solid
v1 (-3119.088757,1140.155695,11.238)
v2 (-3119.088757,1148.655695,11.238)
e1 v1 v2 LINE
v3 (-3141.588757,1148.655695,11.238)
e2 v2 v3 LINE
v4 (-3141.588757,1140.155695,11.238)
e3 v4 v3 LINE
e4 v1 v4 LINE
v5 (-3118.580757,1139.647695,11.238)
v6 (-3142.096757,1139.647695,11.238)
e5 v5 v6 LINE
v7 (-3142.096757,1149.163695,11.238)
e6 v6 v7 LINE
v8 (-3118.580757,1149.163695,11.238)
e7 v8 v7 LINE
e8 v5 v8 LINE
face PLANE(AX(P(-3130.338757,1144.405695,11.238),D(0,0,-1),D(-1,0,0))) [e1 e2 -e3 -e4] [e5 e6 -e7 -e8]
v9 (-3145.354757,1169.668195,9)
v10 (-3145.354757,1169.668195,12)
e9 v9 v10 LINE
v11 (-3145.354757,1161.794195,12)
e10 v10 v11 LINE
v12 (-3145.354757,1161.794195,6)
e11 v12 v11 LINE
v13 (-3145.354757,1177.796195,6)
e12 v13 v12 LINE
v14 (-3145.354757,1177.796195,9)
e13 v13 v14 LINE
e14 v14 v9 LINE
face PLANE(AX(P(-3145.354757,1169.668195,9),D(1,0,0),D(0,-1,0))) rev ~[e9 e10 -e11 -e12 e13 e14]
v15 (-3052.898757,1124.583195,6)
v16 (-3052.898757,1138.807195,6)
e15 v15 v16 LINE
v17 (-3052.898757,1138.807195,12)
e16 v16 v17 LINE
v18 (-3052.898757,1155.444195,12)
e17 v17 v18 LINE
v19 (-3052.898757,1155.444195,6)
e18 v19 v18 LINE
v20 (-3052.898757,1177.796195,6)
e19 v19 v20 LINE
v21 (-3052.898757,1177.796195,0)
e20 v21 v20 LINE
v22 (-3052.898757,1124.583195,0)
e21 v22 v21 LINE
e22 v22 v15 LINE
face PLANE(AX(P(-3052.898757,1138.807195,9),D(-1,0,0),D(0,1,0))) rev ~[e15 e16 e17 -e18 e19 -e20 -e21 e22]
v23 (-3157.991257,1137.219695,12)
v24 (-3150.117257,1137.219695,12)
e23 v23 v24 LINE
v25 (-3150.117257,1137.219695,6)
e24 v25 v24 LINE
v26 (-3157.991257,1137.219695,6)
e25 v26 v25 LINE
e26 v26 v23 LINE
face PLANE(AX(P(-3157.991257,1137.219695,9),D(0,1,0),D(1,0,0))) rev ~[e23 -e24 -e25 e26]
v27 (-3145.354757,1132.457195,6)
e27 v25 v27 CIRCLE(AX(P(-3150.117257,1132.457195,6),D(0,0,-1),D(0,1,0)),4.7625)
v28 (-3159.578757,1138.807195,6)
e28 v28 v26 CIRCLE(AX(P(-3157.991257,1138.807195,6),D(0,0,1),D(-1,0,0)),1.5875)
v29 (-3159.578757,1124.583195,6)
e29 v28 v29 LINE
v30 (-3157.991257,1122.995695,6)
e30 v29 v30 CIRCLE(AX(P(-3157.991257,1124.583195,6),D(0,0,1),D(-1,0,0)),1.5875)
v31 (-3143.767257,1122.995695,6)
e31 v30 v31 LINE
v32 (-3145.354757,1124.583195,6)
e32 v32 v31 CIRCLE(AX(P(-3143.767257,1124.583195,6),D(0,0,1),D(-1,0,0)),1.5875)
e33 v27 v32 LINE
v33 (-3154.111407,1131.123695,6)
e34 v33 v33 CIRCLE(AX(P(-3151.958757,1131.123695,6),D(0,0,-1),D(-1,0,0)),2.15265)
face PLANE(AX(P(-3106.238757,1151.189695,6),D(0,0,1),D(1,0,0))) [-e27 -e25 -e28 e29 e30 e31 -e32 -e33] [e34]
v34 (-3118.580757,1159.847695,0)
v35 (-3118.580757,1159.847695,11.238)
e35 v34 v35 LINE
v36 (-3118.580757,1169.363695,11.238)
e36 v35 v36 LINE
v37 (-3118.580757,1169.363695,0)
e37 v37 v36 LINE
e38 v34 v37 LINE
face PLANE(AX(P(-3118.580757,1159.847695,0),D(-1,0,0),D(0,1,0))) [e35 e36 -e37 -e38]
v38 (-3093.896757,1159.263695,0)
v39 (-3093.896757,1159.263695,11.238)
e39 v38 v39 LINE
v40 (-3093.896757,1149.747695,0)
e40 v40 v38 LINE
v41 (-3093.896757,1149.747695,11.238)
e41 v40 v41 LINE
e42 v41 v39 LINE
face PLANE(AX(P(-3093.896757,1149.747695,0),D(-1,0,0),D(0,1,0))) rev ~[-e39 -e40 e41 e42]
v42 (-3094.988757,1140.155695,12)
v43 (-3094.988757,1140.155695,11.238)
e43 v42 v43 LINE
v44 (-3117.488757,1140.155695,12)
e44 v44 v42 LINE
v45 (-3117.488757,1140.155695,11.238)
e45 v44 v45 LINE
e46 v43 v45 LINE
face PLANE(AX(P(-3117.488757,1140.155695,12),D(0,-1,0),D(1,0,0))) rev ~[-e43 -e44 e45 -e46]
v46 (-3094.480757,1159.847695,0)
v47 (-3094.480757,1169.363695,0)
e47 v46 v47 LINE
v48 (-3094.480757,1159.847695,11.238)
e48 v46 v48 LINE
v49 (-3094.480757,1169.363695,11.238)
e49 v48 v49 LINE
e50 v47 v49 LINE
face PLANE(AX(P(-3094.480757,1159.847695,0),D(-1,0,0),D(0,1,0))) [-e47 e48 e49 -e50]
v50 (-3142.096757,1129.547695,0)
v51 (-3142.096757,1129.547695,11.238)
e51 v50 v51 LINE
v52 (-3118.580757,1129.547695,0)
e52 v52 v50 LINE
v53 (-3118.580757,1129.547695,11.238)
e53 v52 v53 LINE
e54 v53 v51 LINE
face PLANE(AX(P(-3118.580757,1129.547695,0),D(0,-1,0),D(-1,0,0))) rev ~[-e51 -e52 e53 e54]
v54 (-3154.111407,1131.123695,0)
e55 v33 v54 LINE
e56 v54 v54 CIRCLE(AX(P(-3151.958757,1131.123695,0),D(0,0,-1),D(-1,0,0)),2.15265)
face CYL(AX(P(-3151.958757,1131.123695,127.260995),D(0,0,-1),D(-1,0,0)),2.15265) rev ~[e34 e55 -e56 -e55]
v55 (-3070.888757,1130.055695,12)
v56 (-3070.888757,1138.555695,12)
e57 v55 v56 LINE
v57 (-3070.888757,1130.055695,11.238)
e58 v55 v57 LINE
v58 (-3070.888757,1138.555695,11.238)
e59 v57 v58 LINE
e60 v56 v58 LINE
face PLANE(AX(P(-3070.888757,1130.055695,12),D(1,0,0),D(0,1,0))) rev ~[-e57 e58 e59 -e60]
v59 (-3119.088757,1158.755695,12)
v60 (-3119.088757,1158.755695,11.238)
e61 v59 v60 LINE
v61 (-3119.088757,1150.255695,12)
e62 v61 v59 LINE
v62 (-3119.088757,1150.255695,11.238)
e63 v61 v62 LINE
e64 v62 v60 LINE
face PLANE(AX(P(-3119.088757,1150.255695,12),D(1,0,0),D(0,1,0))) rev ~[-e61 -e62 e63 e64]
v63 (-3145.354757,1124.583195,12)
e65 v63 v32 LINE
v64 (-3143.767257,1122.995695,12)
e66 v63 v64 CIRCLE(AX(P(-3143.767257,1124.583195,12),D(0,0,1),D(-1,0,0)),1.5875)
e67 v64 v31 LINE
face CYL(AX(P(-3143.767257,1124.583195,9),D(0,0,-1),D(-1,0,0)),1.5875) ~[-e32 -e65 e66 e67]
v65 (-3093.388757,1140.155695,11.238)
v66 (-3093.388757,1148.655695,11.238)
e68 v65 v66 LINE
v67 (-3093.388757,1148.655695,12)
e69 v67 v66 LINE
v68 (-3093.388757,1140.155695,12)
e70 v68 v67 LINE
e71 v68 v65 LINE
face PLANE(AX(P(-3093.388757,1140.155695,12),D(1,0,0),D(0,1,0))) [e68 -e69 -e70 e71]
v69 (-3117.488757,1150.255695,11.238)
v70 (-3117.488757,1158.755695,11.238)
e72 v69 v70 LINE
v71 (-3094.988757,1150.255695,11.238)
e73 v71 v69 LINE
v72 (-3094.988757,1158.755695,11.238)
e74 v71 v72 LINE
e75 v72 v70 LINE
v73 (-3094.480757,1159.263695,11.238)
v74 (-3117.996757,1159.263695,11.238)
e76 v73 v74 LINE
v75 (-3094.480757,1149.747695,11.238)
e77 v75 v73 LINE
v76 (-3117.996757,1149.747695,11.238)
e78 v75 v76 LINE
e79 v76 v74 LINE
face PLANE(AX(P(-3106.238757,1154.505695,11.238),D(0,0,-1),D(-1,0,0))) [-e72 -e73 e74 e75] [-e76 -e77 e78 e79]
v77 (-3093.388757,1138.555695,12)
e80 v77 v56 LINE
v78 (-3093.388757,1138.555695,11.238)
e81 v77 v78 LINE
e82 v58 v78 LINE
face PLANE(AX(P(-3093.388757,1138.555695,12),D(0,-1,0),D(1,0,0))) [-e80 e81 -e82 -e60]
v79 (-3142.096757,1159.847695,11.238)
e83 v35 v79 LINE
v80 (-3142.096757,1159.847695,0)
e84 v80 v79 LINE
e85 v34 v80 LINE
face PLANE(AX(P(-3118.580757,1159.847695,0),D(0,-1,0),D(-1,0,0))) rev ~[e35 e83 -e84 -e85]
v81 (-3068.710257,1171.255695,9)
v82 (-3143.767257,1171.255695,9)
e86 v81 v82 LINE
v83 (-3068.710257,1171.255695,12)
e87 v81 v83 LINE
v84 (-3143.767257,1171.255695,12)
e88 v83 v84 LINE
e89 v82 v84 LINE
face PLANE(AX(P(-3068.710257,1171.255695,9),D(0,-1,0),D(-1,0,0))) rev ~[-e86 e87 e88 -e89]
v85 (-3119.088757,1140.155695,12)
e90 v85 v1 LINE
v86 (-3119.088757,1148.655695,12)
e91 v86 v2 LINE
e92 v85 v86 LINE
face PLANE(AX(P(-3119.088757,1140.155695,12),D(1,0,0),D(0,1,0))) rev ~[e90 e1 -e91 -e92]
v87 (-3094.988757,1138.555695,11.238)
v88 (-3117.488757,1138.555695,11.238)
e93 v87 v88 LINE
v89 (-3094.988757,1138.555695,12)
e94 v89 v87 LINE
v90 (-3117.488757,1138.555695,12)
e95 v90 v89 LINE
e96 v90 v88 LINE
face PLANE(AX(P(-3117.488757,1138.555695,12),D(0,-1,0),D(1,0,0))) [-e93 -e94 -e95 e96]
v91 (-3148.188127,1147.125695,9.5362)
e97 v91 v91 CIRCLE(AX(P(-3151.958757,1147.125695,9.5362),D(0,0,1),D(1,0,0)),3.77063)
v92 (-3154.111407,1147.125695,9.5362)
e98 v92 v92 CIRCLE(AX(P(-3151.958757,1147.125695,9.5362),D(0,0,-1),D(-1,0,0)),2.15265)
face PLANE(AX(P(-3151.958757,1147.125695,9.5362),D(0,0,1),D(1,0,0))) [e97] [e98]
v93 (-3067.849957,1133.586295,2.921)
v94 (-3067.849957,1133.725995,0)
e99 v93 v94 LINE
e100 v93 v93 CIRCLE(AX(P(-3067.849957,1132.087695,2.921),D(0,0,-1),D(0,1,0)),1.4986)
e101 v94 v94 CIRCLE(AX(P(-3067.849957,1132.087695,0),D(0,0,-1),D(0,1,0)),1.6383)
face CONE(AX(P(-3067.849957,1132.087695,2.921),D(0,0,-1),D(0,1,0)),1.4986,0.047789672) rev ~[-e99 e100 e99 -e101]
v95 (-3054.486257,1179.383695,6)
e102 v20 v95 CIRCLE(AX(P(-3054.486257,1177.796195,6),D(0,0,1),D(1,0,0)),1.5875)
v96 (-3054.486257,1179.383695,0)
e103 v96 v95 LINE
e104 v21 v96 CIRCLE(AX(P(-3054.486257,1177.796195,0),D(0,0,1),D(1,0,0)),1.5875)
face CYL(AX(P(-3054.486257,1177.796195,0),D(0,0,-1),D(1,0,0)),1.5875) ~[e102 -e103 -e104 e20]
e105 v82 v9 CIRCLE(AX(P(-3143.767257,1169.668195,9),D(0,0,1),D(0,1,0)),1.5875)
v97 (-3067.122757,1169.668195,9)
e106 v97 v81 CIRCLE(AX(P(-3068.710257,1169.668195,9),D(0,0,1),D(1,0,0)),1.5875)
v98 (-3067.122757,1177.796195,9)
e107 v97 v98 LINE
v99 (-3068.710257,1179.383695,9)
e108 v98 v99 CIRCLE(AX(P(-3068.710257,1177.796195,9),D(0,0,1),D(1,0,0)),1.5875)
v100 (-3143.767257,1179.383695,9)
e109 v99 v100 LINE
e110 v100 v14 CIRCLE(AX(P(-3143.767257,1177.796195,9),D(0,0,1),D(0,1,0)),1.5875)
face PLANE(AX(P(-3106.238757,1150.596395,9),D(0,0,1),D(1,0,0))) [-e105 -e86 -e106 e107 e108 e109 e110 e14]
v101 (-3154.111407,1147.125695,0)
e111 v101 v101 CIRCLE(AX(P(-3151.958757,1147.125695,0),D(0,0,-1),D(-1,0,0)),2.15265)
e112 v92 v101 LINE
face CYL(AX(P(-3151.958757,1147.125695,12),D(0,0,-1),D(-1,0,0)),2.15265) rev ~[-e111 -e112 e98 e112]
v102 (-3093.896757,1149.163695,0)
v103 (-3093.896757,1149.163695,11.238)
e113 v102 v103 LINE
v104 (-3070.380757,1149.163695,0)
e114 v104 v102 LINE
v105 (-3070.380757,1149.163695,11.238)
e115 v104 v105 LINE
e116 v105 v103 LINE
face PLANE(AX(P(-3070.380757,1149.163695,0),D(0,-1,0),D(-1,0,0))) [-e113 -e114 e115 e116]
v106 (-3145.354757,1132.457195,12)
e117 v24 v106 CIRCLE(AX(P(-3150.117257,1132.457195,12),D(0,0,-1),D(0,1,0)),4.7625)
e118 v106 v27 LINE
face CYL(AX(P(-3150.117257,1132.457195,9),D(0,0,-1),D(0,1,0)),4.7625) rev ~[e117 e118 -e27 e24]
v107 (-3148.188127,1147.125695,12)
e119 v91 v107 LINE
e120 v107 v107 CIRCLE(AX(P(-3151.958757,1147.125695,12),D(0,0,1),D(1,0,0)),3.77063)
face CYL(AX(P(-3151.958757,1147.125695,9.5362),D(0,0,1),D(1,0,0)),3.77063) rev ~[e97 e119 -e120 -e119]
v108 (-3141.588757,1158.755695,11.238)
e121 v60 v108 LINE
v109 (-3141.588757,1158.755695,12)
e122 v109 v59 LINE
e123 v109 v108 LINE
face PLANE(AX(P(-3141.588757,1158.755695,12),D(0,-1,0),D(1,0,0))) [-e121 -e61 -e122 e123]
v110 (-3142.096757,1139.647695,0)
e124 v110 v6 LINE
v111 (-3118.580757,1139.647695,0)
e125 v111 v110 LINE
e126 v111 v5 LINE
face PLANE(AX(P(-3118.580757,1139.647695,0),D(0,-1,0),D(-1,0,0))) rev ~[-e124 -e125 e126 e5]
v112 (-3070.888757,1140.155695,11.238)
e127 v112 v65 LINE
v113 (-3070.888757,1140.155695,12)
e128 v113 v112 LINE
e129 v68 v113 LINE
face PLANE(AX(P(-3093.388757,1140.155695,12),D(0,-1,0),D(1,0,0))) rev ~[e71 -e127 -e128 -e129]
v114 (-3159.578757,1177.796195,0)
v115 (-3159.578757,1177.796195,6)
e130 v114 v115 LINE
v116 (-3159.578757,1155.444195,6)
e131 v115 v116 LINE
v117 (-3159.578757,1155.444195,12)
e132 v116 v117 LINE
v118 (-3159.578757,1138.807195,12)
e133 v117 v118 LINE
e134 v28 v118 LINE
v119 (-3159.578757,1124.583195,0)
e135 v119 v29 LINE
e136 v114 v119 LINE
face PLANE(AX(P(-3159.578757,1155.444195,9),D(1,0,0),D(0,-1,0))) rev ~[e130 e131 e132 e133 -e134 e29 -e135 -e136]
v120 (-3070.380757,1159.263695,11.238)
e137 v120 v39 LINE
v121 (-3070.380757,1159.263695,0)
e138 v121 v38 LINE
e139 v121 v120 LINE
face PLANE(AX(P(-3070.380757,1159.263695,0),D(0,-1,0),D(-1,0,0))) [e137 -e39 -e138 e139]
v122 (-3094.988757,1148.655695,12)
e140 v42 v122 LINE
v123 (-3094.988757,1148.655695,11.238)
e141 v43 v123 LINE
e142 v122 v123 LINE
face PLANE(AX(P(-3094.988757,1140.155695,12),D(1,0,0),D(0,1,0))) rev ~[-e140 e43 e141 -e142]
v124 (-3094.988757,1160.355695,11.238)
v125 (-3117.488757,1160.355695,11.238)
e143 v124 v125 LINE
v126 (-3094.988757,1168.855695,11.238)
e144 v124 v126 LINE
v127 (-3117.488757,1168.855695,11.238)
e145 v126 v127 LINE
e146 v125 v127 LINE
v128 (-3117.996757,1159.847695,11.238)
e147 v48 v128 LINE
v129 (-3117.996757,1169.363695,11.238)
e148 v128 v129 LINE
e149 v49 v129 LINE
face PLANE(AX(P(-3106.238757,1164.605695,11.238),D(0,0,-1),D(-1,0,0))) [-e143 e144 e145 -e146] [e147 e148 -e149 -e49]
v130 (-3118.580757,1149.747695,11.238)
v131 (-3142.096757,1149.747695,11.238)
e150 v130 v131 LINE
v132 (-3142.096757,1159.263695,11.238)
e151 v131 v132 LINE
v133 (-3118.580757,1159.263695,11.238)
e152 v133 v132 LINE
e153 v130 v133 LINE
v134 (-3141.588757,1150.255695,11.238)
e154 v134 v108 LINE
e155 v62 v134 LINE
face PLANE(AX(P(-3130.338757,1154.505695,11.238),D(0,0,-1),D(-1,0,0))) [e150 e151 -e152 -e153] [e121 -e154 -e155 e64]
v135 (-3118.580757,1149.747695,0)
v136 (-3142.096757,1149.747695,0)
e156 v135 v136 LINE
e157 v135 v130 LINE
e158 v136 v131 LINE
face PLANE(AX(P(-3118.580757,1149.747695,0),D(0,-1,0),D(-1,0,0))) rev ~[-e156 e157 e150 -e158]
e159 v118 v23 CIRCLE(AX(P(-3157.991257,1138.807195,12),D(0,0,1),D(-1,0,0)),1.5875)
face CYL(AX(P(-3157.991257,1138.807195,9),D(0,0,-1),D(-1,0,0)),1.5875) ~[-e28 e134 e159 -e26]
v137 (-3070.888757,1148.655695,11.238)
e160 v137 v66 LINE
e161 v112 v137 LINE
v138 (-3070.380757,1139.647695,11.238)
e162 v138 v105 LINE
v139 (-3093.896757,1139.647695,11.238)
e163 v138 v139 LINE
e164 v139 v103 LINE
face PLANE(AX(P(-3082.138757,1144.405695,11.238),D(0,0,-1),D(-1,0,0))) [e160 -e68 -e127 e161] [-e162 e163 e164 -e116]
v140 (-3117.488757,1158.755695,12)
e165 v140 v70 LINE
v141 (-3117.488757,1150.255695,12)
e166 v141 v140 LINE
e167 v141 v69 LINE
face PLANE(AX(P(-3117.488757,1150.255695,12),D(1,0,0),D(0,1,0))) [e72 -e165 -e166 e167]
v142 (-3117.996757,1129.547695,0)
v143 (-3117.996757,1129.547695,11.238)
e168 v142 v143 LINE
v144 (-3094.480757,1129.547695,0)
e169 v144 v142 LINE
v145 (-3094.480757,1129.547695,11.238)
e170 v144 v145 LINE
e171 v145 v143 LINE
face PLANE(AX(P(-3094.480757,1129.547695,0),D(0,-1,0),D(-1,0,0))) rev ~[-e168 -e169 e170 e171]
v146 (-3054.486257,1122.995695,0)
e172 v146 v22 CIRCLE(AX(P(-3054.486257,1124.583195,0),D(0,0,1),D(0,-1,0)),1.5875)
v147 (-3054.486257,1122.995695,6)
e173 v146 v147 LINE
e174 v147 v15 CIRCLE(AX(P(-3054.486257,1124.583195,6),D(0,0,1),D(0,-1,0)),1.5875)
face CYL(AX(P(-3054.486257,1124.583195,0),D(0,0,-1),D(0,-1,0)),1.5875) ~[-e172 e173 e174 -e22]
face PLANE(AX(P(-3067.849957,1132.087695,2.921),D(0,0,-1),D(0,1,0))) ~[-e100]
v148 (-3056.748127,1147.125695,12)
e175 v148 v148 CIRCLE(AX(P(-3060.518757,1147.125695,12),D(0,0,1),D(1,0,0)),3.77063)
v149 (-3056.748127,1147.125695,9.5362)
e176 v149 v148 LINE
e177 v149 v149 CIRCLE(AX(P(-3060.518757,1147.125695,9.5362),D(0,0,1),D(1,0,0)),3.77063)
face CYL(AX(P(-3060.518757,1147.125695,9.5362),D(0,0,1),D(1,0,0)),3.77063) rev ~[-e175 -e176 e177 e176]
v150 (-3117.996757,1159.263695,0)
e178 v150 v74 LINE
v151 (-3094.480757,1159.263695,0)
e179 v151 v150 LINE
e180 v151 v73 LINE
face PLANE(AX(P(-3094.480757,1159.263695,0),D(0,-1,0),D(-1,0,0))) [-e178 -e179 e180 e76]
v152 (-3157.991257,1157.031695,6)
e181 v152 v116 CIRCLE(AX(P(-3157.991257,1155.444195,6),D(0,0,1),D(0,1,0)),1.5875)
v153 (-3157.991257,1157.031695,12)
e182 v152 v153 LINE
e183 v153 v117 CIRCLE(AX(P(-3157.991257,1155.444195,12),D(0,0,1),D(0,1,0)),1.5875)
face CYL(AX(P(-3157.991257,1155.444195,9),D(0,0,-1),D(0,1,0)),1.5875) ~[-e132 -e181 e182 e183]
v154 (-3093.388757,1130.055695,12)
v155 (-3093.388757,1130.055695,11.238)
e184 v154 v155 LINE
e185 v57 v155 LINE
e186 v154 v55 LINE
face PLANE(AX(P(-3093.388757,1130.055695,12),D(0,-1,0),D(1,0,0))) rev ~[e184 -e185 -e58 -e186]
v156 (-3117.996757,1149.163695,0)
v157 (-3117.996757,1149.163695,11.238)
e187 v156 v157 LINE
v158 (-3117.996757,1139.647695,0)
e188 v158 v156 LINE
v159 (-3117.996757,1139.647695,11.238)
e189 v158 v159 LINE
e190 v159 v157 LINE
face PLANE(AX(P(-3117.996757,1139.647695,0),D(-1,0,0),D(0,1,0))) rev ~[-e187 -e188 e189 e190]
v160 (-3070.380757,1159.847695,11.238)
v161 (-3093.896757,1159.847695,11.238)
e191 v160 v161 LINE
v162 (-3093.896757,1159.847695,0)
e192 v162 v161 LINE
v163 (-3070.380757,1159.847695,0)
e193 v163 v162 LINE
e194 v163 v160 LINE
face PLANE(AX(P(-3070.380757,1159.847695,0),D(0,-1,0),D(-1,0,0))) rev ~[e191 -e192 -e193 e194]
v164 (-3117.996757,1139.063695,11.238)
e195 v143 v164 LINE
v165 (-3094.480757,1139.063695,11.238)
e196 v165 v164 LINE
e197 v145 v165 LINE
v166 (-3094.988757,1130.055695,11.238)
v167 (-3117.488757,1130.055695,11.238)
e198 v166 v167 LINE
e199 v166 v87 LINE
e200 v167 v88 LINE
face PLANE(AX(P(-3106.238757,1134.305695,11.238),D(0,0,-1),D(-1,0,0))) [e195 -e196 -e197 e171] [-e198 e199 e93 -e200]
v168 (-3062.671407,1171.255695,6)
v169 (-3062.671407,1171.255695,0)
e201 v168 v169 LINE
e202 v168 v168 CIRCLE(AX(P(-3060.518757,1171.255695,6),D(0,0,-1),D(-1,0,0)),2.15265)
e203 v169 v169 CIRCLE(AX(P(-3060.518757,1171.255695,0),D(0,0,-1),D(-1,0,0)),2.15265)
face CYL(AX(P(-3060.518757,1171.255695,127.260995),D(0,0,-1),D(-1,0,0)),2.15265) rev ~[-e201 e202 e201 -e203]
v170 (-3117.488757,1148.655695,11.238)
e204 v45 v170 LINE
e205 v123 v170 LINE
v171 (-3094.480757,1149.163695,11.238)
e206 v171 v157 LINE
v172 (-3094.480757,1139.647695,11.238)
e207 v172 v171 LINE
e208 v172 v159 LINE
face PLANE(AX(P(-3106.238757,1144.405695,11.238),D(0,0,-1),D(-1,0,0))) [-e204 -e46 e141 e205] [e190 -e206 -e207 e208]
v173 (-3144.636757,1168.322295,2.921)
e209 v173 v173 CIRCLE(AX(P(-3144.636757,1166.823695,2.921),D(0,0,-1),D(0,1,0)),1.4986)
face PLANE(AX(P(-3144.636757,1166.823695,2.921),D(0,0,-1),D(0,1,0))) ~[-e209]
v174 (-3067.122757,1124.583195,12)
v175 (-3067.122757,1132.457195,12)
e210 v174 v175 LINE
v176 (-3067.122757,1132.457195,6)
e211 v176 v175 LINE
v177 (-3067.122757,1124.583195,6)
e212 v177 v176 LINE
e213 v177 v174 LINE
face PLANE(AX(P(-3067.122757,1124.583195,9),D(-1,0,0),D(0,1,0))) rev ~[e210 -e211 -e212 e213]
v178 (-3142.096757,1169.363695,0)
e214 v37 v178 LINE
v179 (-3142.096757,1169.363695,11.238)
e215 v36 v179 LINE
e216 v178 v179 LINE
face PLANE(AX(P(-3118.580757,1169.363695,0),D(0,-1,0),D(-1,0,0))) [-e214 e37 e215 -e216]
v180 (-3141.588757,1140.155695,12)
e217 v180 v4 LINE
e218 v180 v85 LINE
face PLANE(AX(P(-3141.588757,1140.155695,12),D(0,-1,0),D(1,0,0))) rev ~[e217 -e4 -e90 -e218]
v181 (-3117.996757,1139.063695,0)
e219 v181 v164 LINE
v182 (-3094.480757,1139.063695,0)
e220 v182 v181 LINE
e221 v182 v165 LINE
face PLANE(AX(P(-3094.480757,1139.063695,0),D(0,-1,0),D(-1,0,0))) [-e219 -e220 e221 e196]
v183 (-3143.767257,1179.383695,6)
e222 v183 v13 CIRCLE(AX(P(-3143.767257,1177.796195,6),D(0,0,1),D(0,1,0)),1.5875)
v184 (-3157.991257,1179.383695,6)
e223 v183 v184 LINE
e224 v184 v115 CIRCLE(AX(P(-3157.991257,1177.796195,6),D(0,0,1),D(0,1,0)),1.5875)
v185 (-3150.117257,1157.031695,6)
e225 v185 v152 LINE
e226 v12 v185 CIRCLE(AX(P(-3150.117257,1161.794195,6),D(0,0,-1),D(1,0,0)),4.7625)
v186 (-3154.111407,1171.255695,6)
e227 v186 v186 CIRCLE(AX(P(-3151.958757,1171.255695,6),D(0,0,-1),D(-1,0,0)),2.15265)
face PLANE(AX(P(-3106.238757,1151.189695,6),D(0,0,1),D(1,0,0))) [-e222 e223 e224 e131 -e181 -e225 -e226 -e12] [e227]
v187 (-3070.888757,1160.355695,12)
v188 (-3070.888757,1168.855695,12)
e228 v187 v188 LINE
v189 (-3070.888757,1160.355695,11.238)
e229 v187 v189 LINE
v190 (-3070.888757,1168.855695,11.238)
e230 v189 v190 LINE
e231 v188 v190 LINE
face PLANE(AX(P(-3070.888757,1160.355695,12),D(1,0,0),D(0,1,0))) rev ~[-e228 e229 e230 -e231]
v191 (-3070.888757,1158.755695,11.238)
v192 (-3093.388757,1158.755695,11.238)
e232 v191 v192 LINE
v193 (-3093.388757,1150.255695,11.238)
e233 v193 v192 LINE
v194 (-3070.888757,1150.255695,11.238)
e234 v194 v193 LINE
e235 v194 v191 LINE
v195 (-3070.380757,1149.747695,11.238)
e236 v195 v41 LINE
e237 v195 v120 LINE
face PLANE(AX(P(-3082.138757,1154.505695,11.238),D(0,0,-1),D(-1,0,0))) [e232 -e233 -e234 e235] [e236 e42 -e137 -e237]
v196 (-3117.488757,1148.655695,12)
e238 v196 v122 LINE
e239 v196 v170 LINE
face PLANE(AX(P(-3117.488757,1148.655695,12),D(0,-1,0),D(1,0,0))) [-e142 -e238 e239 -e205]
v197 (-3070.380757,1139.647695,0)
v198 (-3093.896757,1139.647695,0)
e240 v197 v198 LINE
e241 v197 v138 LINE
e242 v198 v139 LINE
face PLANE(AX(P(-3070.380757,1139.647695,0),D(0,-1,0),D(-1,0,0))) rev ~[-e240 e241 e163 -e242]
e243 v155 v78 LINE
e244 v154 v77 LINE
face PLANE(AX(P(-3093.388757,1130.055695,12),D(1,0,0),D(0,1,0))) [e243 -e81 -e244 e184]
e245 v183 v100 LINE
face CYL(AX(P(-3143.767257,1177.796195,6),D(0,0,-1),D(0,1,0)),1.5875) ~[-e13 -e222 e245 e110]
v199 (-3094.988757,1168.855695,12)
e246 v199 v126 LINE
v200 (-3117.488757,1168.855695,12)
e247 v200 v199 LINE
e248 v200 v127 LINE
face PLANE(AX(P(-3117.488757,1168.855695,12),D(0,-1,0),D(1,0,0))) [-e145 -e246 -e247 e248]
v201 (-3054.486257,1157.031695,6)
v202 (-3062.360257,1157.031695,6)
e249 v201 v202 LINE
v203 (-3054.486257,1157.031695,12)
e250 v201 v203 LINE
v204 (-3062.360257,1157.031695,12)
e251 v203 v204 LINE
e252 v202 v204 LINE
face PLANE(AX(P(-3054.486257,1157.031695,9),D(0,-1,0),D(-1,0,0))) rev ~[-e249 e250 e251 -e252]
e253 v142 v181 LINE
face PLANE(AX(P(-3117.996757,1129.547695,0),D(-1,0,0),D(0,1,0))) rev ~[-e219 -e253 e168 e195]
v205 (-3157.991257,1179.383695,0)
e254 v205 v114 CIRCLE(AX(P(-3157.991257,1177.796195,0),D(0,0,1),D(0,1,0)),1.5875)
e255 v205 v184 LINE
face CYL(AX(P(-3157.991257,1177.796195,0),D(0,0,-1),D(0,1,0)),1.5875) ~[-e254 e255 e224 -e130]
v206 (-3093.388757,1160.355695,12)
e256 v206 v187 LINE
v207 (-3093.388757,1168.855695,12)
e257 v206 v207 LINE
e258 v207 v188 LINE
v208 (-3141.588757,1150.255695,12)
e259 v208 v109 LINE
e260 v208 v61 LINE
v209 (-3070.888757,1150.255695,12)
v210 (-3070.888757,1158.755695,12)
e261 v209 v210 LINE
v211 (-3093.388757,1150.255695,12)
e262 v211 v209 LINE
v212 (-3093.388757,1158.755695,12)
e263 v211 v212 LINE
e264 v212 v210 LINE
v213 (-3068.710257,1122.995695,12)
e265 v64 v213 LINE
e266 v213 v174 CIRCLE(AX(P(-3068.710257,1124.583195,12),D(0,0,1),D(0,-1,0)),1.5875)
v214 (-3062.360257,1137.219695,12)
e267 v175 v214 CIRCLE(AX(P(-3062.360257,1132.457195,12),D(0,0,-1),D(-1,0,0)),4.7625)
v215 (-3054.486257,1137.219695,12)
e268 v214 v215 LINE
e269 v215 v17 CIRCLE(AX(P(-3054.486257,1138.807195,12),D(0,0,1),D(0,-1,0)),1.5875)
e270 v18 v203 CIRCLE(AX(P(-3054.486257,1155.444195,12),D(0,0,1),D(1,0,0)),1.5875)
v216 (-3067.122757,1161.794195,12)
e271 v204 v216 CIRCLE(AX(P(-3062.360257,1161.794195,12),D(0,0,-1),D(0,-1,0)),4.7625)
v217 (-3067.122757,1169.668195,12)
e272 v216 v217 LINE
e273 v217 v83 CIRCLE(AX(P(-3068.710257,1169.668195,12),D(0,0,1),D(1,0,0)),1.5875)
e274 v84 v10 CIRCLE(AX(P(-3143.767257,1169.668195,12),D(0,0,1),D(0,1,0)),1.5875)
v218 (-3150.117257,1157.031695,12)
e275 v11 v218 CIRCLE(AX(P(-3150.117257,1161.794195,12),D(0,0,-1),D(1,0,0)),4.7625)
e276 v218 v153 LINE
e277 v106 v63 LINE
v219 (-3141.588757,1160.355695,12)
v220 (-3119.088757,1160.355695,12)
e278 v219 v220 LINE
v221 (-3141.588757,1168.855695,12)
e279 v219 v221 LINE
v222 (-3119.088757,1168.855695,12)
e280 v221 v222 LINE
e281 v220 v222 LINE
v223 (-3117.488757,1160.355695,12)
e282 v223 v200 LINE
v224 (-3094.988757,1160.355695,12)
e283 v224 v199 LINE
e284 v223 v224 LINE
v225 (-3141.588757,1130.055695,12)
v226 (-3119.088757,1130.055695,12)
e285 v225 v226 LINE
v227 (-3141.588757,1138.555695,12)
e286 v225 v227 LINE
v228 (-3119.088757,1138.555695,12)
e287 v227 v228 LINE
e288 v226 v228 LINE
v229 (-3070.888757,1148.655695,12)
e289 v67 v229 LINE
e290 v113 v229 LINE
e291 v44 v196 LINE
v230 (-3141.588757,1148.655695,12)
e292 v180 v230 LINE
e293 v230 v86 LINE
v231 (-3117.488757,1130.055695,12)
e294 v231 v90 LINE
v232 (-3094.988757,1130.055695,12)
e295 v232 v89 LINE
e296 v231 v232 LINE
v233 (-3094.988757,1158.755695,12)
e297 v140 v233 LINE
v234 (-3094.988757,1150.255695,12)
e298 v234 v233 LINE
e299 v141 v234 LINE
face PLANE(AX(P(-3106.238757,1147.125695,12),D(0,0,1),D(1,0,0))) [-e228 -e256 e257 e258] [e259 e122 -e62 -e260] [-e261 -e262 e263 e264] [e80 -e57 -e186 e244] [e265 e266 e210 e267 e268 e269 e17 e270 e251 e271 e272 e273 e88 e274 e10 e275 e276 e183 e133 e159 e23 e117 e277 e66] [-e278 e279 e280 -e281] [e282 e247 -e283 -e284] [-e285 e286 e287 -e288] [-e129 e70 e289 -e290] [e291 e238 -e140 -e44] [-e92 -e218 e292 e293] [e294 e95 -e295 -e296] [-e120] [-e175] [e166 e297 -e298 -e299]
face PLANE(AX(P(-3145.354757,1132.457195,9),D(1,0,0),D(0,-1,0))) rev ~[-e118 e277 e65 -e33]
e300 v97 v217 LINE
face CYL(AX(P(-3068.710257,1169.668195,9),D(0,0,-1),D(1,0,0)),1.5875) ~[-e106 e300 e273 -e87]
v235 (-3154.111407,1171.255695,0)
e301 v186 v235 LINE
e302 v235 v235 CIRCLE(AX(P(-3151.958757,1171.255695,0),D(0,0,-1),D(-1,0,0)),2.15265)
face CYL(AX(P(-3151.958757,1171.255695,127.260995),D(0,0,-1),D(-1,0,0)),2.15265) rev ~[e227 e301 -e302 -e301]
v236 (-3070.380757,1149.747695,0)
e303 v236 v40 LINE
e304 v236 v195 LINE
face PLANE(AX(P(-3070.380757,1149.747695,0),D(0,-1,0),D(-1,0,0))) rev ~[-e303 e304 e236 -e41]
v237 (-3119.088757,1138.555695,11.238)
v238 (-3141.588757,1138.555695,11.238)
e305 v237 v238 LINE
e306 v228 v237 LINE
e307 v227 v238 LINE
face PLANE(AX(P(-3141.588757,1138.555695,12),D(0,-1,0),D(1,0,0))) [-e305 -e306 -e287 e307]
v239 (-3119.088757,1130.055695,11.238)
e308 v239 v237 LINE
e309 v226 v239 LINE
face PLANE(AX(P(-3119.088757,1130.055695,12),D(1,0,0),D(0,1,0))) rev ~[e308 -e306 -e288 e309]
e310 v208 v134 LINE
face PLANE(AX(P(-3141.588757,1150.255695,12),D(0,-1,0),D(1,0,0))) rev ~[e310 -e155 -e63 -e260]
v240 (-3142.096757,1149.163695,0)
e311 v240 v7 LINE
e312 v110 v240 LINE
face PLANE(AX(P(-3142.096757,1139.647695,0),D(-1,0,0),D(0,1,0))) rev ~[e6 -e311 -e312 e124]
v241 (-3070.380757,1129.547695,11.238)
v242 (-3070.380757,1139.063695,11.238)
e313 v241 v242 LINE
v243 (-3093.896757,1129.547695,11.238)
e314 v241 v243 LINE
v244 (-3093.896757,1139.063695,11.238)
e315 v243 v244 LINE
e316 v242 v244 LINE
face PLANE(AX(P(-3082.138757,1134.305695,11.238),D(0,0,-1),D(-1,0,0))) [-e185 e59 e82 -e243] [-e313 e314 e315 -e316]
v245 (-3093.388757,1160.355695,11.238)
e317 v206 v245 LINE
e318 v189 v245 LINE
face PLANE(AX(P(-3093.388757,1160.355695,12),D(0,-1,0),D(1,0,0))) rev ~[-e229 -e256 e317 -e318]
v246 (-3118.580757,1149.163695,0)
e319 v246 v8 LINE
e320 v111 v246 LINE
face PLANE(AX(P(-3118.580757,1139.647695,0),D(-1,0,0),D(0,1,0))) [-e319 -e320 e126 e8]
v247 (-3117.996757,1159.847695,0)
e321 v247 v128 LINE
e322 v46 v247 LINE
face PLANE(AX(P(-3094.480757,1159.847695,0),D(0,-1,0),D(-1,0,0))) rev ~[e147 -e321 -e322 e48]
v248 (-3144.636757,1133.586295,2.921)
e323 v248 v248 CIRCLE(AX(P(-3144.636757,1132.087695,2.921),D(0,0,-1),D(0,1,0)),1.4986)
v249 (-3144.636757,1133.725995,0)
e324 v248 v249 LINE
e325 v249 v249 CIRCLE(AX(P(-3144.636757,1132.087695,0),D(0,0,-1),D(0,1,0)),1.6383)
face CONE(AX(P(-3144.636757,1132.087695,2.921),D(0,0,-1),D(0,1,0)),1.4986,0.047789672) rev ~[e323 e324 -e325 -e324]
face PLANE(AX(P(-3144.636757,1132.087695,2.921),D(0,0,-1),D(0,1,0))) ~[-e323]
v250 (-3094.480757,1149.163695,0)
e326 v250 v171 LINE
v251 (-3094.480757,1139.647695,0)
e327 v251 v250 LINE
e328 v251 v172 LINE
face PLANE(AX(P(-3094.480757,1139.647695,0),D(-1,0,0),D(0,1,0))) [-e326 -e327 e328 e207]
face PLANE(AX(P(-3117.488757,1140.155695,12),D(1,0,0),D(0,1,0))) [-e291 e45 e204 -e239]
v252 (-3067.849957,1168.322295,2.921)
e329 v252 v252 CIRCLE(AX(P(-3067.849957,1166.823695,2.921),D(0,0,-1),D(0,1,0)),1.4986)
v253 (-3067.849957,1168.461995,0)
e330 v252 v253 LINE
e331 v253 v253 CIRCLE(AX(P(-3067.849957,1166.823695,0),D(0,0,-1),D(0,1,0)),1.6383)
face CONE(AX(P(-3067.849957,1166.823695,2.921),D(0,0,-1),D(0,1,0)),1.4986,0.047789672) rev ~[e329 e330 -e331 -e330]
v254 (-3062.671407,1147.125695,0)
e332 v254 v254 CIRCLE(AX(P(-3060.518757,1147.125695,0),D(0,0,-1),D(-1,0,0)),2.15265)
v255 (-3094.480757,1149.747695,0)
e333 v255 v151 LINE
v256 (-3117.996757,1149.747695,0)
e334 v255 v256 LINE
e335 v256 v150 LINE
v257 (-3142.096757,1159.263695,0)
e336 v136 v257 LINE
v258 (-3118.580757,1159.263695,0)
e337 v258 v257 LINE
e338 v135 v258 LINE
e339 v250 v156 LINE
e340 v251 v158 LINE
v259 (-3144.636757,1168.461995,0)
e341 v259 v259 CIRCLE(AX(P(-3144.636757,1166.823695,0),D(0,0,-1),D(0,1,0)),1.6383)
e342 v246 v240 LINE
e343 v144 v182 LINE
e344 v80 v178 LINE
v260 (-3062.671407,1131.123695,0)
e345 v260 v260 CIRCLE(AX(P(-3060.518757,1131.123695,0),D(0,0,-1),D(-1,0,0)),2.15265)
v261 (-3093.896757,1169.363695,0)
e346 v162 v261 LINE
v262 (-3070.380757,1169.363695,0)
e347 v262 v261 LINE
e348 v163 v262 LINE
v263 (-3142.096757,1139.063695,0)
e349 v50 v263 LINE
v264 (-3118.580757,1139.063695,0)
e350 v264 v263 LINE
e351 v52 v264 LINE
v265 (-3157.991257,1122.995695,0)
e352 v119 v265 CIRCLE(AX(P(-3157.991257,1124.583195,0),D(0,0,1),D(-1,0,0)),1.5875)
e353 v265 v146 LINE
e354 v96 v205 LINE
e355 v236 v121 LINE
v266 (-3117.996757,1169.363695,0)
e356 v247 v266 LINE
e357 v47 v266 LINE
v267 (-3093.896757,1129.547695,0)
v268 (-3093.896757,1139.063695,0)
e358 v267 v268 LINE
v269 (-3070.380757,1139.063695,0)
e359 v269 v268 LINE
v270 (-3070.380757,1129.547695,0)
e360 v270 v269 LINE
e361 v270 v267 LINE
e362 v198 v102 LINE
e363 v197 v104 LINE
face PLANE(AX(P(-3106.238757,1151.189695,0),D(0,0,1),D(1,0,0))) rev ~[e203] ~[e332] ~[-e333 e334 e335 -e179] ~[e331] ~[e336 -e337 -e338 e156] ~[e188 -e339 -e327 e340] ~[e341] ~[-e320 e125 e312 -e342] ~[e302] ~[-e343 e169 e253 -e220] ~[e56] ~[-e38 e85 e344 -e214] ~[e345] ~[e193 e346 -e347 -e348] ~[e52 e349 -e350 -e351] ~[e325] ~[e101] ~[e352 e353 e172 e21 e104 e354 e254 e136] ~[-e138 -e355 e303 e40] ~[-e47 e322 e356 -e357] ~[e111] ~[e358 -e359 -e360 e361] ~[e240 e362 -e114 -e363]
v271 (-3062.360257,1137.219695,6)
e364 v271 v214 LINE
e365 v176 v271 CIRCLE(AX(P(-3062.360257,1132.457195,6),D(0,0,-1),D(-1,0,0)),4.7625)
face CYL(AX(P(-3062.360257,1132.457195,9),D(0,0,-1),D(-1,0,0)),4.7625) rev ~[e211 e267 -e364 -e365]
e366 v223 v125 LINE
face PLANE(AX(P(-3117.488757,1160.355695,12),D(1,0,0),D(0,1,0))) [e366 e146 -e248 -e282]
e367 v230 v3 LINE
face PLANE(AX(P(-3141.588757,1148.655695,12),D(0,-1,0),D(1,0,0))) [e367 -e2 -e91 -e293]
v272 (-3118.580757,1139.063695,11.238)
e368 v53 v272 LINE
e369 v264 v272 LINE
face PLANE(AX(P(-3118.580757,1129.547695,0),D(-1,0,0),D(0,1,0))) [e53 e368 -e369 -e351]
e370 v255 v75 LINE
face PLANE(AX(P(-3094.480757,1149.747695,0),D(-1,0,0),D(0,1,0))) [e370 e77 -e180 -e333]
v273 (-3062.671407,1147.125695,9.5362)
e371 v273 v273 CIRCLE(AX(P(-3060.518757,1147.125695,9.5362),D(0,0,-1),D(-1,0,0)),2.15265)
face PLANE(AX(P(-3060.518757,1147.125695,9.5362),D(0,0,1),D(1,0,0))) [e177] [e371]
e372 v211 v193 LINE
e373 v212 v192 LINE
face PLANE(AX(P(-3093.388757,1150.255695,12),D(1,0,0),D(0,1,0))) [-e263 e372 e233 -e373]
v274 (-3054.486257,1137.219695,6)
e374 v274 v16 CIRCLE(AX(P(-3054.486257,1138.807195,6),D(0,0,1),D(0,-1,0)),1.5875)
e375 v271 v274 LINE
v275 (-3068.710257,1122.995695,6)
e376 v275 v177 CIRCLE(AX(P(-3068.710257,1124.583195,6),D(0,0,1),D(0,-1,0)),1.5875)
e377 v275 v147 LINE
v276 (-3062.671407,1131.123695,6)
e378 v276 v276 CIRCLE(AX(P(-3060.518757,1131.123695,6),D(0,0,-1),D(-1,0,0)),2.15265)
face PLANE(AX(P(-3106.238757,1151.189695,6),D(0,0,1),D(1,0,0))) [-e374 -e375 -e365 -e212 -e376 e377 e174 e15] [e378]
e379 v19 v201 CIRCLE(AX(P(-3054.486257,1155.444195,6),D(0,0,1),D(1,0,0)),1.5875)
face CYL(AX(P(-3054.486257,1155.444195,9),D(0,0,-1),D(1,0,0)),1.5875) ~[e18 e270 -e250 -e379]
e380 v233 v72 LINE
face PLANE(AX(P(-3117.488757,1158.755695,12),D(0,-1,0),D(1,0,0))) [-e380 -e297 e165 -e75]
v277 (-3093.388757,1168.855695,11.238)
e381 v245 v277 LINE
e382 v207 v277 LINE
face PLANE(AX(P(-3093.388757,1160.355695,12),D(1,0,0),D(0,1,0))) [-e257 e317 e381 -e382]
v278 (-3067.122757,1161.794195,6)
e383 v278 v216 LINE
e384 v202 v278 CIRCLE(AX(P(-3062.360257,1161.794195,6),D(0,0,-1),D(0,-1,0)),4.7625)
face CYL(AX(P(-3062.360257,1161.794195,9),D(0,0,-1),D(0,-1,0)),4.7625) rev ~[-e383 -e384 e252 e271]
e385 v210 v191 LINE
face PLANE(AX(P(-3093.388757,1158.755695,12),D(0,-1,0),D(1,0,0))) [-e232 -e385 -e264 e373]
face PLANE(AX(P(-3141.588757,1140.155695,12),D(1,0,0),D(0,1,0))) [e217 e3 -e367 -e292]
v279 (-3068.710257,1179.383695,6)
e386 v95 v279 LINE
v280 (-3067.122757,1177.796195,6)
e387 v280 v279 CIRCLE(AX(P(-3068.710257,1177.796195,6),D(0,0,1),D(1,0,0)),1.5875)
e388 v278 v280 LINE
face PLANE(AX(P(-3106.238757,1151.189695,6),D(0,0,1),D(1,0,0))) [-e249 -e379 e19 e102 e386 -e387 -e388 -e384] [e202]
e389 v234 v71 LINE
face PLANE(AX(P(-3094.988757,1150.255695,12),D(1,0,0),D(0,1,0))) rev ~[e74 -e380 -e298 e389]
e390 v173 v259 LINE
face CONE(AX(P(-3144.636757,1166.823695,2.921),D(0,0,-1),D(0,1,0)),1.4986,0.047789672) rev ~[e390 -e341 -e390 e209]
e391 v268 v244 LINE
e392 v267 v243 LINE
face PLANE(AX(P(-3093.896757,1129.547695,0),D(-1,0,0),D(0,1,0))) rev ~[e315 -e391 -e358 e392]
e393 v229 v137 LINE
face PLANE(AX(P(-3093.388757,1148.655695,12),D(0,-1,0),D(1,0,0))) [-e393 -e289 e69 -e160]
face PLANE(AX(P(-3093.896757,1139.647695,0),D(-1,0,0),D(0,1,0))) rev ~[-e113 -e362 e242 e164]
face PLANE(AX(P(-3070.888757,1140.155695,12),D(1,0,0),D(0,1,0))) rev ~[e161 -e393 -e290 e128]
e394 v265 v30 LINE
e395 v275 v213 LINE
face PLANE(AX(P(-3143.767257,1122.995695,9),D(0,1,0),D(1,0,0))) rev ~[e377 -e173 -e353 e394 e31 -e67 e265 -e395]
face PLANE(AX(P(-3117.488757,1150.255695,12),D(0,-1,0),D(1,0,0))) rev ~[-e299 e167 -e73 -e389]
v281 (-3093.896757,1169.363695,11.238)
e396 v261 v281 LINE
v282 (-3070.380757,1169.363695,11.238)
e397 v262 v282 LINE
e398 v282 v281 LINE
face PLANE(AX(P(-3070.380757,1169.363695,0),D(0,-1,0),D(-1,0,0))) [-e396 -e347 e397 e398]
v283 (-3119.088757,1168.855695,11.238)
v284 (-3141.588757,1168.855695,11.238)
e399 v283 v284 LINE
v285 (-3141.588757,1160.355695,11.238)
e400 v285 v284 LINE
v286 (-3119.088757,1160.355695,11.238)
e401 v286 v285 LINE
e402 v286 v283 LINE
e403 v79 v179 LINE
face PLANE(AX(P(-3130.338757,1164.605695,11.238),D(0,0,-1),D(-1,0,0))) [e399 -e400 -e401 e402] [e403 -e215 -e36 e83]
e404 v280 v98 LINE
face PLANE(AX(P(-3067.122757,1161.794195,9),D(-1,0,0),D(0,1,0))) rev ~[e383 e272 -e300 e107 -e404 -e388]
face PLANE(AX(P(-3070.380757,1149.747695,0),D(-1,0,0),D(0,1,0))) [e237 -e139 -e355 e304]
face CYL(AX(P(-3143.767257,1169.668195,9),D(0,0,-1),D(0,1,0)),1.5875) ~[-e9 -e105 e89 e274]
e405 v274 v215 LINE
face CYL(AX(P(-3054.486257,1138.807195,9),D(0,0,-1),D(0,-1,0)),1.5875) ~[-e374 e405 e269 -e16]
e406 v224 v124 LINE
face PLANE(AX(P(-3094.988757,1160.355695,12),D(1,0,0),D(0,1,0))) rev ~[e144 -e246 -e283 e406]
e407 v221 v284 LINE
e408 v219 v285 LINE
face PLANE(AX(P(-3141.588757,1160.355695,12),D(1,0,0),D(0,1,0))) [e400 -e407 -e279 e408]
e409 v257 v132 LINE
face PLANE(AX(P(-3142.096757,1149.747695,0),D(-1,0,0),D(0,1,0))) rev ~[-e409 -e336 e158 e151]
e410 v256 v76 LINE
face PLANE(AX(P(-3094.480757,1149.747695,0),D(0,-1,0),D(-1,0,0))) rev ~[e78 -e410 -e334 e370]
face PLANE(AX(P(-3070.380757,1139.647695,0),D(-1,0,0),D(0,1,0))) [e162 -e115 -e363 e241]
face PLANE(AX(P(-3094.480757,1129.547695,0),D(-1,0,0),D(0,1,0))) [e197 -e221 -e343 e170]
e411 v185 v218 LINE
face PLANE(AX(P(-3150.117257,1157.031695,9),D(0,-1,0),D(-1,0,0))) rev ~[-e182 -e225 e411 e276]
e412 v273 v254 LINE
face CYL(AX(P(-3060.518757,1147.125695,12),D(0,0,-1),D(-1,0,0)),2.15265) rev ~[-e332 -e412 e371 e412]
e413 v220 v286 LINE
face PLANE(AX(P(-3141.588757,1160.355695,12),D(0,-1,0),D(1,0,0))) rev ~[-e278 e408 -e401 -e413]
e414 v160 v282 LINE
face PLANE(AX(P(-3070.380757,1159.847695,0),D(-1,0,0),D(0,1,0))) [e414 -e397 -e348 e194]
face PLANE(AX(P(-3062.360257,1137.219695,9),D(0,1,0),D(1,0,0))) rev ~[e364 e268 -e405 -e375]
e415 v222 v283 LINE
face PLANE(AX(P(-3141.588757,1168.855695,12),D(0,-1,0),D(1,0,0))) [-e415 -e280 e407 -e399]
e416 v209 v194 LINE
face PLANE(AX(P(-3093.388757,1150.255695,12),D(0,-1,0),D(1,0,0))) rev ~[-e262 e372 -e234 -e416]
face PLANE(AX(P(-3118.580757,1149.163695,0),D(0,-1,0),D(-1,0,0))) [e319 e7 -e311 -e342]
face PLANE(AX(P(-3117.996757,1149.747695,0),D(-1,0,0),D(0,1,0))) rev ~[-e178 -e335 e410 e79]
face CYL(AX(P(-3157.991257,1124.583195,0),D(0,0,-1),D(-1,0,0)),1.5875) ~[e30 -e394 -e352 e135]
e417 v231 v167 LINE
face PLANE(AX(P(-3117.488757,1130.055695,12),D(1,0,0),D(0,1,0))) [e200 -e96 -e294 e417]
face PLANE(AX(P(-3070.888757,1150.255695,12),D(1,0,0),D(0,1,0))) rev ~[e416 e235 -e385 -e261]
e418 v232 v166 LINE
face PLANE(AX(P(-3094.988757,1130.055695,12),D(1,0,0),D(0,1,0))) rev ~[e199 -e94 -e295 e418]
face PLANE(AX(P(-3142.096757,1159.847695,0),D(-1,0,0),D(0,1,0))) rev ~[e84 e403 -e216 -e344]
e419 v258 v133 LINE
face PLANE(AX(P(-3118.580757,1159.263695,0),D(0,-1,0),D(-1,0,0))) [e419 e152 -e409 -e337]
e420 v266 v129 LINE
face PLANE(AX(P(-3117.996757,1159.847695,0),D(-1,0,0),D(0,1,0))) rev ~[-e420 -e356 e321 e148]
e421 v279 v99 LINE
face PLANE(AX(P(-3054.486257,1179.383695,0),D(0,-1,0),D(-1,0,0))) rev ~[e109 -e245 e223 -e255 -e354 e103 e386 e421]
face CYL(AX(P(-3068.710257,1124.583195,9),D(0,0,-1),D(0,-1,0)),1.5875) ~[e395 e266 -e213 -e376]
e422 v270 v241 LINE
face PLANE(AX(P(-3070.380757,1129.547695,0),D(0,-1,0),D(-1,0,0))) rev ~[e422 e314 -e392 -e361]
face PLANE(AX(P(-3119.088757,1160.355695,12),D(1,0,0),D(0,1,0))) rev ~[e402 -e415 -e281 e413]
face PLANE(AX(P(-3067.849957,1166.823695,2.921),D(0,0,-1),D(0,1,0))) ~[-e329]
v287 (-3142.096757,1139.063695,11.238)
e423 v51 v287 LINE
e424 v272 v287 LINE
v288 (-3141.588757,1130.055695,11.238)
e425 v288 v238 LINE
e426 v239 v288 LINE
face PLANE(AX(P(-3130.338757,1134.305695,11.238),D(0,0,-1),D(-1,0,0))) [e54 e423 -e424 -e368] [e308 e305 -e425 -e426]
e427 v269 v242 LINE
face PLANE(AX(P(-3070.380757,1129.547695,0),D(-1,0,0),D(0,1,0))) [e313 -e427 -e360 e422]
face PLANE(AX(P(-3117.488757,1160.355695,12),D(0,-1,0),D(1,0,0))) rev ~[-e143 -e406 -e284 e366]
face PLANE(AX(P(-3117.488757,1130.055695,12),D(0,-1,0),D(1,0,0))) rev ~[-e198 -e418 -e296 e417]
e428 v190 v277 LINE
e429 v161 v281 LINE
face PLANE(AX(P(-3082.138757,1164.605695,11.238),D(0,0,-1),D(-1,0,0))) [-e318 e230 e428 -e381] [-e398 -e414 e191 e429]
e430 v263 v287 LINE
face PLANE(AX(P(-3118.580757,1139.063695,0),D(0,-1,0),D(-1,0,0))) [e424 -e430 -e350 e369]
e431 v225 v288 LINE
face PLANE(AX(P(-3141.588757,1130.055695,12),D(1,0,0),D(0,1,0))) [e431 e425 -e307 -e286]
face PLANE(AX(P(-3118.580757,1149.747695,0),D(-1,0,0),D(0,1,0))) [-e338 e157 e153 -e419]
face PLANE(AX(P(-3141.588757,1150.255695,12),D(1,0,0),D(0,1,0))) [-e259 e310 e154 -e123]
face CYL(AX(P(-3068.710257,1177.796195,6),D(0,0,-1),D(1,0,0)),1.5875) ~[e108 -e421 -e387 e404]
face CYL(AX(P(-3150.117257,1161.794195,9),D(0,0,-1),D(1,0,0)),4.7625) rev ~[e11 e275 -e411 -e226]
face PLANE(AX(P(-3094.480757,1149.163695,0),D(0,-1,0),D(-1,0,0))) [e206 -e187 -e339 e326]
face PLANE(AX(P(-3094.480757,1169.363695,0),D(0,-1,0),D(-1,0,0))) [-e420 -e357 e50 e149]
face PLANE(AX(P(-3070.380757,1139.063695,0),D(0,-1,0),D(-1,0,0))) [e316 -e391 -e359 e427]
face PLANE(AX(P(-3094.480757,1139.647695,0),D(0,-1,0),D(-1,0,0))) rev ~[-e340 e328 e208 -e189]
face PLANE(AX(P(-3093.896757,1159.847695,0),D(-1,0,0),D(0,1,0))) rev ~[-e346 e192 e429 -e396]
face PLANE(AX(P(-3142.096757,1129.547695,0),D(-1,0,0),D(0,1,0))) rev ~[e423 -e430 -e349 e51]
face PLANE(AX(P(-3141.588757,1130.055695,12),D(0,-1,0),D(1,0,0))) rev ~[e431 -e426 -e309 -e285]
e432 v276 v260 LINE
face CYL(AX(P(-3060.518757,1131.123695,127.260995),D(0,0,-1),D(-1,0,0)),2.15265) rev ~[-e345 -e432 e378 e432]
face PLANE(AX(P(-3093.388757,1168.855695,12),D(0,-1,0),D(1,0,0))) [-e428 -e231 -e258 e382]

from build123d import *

# Parameters (mm, degrees)
BOSS_EXTRUDE1_DEPTH                             = 6
BOSS_EXTRUDE2_DEPTH                             = 3
BOSS_EXTRUDE3_DEPTH                             = 3
SKETCH4_W                                       = 22.5
SKETCH4_H                                       = 8.5
CUT_EXTRUDE1_DEPTH                              = 13
F_6_CLEARANCE_HOLE1_D                           = 4.3053
CBORE_FOR_6_PAN_HEAD_MACHINE_SCREW1_D           = 4.3053
CBORE_FOR_6_PAN_HEAD_MACHINE_SCREW1_CBORE_D     = 7.54126
CBORE_FOR_6_PAN_HEAD_MACHINE_SCREW1_CBORE_DEPTH = 2.4638
SKETCH10_W                                      = 23.516
SKETCH10_H                                      = 9.516
SKETCH10_W_2                                    = 22.5
SKETCH10_H_2                                    = 8.5
CUT_EXTRUDE3_DEPTH                              = 11.238
HOLE1_AT_2_COUNT                                = 2
HOLE1_AT_2_PITCH                                = 76.7868
HOLE1_AT_3_COUNT                                = 2
HOLE1_AT_3_PITCH                                = 34.736
HOLE1_AT_4_COUNT                                = 2
HOLE1_AT_4_PITCH                                = 84.278124981


with BuildPart() as part:
    # Sketch1 → Boss-Extrude1 (new body)
    with BuildSketch(Plane.XY):
        with BuildLine():
            Line((-3157.991257164, 1122.995694712), (-3054.486257164, 1122.995694712))
            ThreePointArc((-3054.486257164, 1122.995694712), (-3053.363725149, 1123.460662697), (-3052.898757164, 1124.583194712))
            Line((-3052.898757164, 1124.583194712), (-3052.898757164, 1177.796194712))
            ThreePointArc((-3052.898757164, 1177.796194712), (-3053.363725149, 1178.918726727), (-3054.486257164, 1179.383694712))
            Line((-3054.486257164, 1179.383694712), (-3157.991257164, 1179.383694712))
            ThreePointArc((-3157.991257164, 1179.383694712), (-3159.113789179, 1178.918726727), (-3159.578757164, 1177.796194712))
            Line((-3159.578757164, 1177.796194712), (-3159.578757164, 1124.583194712))
            ThreePointArc((-3159.578757164, 1124.583194712), (-3159.113789179, 1123.460662697), (-3157.991257164, 1122.995694712))
        make_face()
    extrude(amount=BOSS_EXTRUDE1_DEPTH)

    # Sketch2 → Boss-Extrude2 (add)
    with BuildSketch(Plane.XY.offset(6)):
        with BuildLine():
            Line((-3143.767257164, 1122.995694712), (-3068.710257164, 1122.995694712))
            ThreePointArc((-3068.710257164, 1122.995694712), (-3067.587725149, 1123.460662697), (-3067.122757164, 1124.583194712))
            Line((-3067.122757164, 1124.583194712), (-3067.122757164, 1132.457194712))
            ThreePointArc((-3067.122757164, 1132.457194712), (-3065.72785321, 1135.824790758), (-3062.360257164, 1137.219694712))
            Line((-3062.360257164, 1137.219694712), (-3054.486257164, 1137.219694712))
            ThreePointArc((-3054.486257164, 1137.219694712), (-3053.363725149, 1137.684662697), (-3052.898757164, 1138.807194712))
            Line((-3052.898757164, 1138.807194712), (-3052.898757164, 1155.444194712))
            ThreePointArc((-3052.898757164, 1155.444194712), (-3053.363725149, 1156.566726727), (-3054.486257164, 1157.031694712))
            Line((-3054.486257164, 1157.031694712), (-3062.360257164, 1157.031694712))
            ThreePointArc((-3062.360257164, 1157.031694712), (-3065.72785321, 1158.426598667), (-3067.122757164, 1161.794194712))
            Line((-3067.122757164, 1161.794194712), (-3067.122757164, 1169.668194712))
            Line((-3067.122757164, 1169.668194712), (-3067.122757164, 1177.796194712))
            ThreePointArc((-3067.122757164, 1177.796194712), (-3067.587725149, 1178.918726727), (-3068.710257164, 1179.383694712))
            Line((-3068.710257164, 1179.383694712), (-3143.767257164, 1179.383694712))
            ThreePointArc((-3143.767257164, 1179.383694712), (-3144.889789179, 1178.918726727), (-3145.354757164, 1177.796194712))
            Line((-3145.354757164, 1177.796194712), (-3145.354757164, 1169.668194712))
            Line((-3145.354757164, 1169.668194712), (-3145.354757164, 1161.794194712))
            ThreePointArc((-3145.354757164, 1161.794194712), (-3146.749661119, 1158.426598667), (-3150.117257164, 1157.031694712))
            Line((-3150.117257164, 1157.031694712), (-3157.991257164, 1157.031694712))
            ThreePointArc((-3157.991257164, 1157.031694712), (-3159.113789179, 1156.566726727), (-3159.578757164, 1155.444194712))
            Line((-3159.578757164, 1155.444194712), (-3159.578757164, 1138.807194712))
            ThreePointArc((-3159.578757164, 1138.807194712), (-3159.113789179, 1137.684662697), (-3157.991257164, 1137.219694712))
            Line((-3157.991257164, 1137.219694712), (-3150.117257164, 1137.219694712))
            ThreePointArc((-3150.117257164, 1137.219694712), (-3146.749661119, 1135.824790758), (-3145.354757164, 1132.457194712))
            Line((-3145.354757164, 1132.457194712), (-3145.354757164, 1124.583194712))
            ThreePointArc((-3145.354757164, 1124.583194712), (-3144.889789179, 1123.460662697), (-3143.767257164, 1122.995694712))
        make_face()
    extrude(amount=BOSS_EXTRUDE2_DEPTH)

    # Sketch3 → Boss-Extrude3 (add)
    with BuildSketch(Plane.XY.offset(9)):
        with BuildLine():
            Line((-3143.767257164, 1122.995694712), (-3068.710257164, 1122.995694712))
            ThreePointArc((-3068.710257164, 1122.995694712), (-3067.587725149, 1123.460662697), (-3067.122757164, 1124.583194712))
            Line((-3067.122757164, 1124.583194712), (-3067.122757164, 1132.457194712))
            ThreePointArc((-3067.122757164, 1132.457194712), (-3065.72785321, 1135.824790758), (-3062.360257164, 1137.219694712))
            Line((-3062.360257164, 1137.219694712), (-3054.486257164, 1137.219694712))
            ThreePointArc((-3054.486257164, 1137.219694712), (-3053.363725149, 1137.684662697), (-3052.898757164, 1138.807194712))
            Line((-3052.898757164, 1138.807194712), (-3052.898757164, 1155.444194712))
            ThreePointArc((-3052.898757164, 1155.444194712), (-3053.363725149, 1156.566726727), (-3054.486257164, 1157.031694712))
            Line((-3054.486257164, 1157.031694712), (-3062.360257164, 1157.031694712))
            ThreePointArc((-3062.360257164, 1157.031694712), (-3065.72785321, 1158.426598667), (-3067.122757164, 1161.794194712))
            Line((-3067.122757164, 1161.794194712), (-3067.122757164, 1169.668194712))
            ThreePointArc((-3067.122757164, 1169.668194712), (-3067.587725149, 1170.790726727), (-3068.710257164, 1171.255694712))
            Line((-3068.710257164, 1171.255694712), (-3143.767257164, 1171.255694712))
            ThreePointArc((-3143.767257164, 1171.255694712), (-3144.889789179, 1170.790726727), (-3145.354757164, 1169.668194712))
            Line((-3145.354757164, 1169.668194712), (-3145.354757164, 1161.794194712))
            ThreePointArc((-3145.354757164, 1161.794194712), (-3146.749661119, 1158.426598667), (-3150.117257164, 1157.031694712))
            Line((-3150.117257164, 1157.031694712), (-3157.991257164, 1157.031694712))
            ThreePointArc((-3157.991257164, 1157.031694712), (-3159.113789179, 1156.566726727), (-3159.578757164, 1155.444194712))
            Line((-3159.578757164, 1155.444194712), (-3159.578757164, 1138.807194712))
            ThreePointArc((-3159.578757164, 1138.807194712), (-3159.113789179, 1137.684662697), (-3157.991257164, 1137.219694712))
            Line((-3157.991257164, 1137.219694712), (-3150.117257164, 1137.219694712))
            ThreePointArc((-3150.117257164, 1137.219694712), (-3146.749661119, 1135.824790758), (-3145.354757164, 1132.457194712))
            Line((-3145.354757164, 1132.457194712), (-3145.354757164, 1124.583194712))
            ThreePointArc((-3145.354757164, 1124.583194712), (-3144.889789179, 1123.460662697), (-3143.767257164, 1122.995694712))
        make_face()
    extrude(amount=BOSS_EXTRUDE3_DEPTH)

    # Sketch4 → Cut-Extrude1 (cut, through all)
    with BuildSketch(Plane.XY.offset(12)):
        with Locations((-3082.138757164, 1134.305694712)):
            Rectangle(SKETCH4_W, SKETCH4_H)
        with Locations((-3106.238757164, 1134.305694712)):
            Rectangle(SKETCH4_W, SKETCH4_H)
        with Locations((-3130.338757164, 1134.305694712)):
            Rectangle(SKETCH4_W, SKETCH4_H)
        with Locations((-3130.338757164, 1144.405694712)):
            Rectangle(SKETCH4_W, SKETCH4_H)
        with Locations((-3106.238757164, 1144.405694712)):
            Rectangle(SKETCH4_W, SKETCH4_H)
        with Locations((-3082.138757164, 1144.405694712)):
            Rectangle(SKETCH4_W, SKETCH4_H)
        with Locations((-3082.138757164, 1154.505694712)):
            Rectangle(SKETCH4_W, SKETCH4_H)
        with Locations((-3106.238757164, 1154.505694712)):
            Rectangle(SKETCH4_W, SKETCH4_H)
        with Locations((-3130.338757164, 1154.505694712)):
            Rectangle(SKETCH4_W, SKETCH4_H)
        with Locations((-3130.338757164, 1164.605694712)):
            Rectangle(SKETCH4_W, SKETCH4_H)
        with Locations((-3106.238757164, 1164.605694712)):
            Rectangle(SKETCH4_W, SKETCH4_H)
        with Locations((-3082.138757164, 1164.605694712)):
            Rectangle(SKETCH4_W, SKETCH4_H)
    extrude(amount=-CUT_EXTRUDE1_DEPTH, mode=Mode.SUBTRACT)

    # #6 Clearance Hole1 (through all)
    with Locations(Plane.XY.offset(6)):
        with Locations((-3060.518757164, 1131.123694712), (-3151.958757164, 1131.123694712), (-3151.958757164, 1171.255694712), (-3060.518757164, 1171.255694712)):
            Hole(F_6_CLEARANCE_HOLE1_D / 2)

    # CBORE for #6 Pan Head Machine Screw1 (through all)
    with Locations(Plane.XY.offset(12)):
        with Locations((-3060.518757164, 1147.125694712), (-3151.958757164, 1147.125694712)):
            CounterBoreHole(CBORE_FOR_6_PAN_HEAD_MACHINE_SCREW1_D / 2, CBORE_FOR_6_PAN_HEAD_MACHINE_SCREW1_CBORE_D / 2, CBORE_FOR_6_PAN_HEAD_MACHINE_SCREW1_CBORE_DEPTH)

    # Sketch10 → Cut-Extrude3 (cut)
    with BuildSketch(Plane(origin=(0, 0, 0), x_dir=(-1, 0, 0), z_dir=(0, 0, -1))):
        with Locations((3130.338757164, 1134.305694712)):
            Rectangle(SKETCH10_W, SKETCH10_H)
        with Locations((3130.338757164, 1134.305694712)):
            Rectangle(SKETCH10_W_2, SKETCH10_H_2, mode=Mode.SUBTRACT)
        with Locations((3106.238757164, 1134.305694712)):
            Rectangle(SKETCH10_W, SKETCH10_H)
        with Locations((3106.238757164, 1134.305694712)):
            Rectangle(SKETCH10_W_2, SKETCH10_H_2, mode=Mode.SUBTRACT)
        with Locations((3082.138757164, 1134.305694712)):
            Rectangle(SKETCH10_W, SKETCH10_H)
        with Locations((3082.138757164, 1134.305694712)):
            Rectangle(SKETCH10_W_2, SKETCH10_H_2, mode=Mode.SUBTRACT)
        with Locations((3082.138757164, 1154.505694712)):
            Rectangle(SKETCH10_W, SKETCH10_H)
        with Locations((3082.138757164, 1154.505694712)):
            Rectangle(SKETCH10_W_2, SKETCH10_H_2, mode=Mode.SUBTRACT)
        with Locations((3082.138757164, 1144.405694712)):
            Rectangle(SKETCH10_W, SKETCH10_H)
        with Locations((3082.138757164, 1144.405694712)):
            Rectangle(SKETCH10_W_2, SKETCH10_H_2, mode=Mode.SUBTRACT)
        with Locations((3106.238757164, 1144.405694712)):
            Rectangle(SKETCH10_W, SKETCH10_H)
        with Locations((3106.238757164, 1144.405694712)):
            Rectangle(SKETCH10_W_2, SKETCH10_H_2, mode=Mode.SUBTRACT)
        with Locations((3130.338757164, 1144.405694712)):
            Rectangle(SKETCH10_W, SKETCH10_H)
        with Locations((3130.338757164, 1144.405694712)):
            Rectangle(SKETCH10_W_2, SKETCH10_H_2, mode=Mode.SUBTRACT)
        with Locations((3106.238757164, 1164.605694712)):
            Rectangle(SKETCH10_W, SKETCH10_H)
        with Locations((3106.238757164, 1164.605694712)):
            Rectangle(SKETCH10_W_2, SKETCH10_H_2, mode=Mode.SUBTRACT)
        with Locations((3130.338757164, 1164.605694712)):
            Rectangle(SKETCH10_W, SKETCH10_H)
        with Locations((3130.338757164, 1164.605694712)):
            Rectangle(SKETCH10_W_2, SKETCH10_H_2, mode=Mode.SUBTRACT)
        with Locations((3130.338757164, 1154.505694712)):
            Rectangle(SKETCH10_W, SKETCH10_H)
        with Locations((3130.338757164, 1154.505694712)):
            Rectangle(SKETCH10_W_2, SKETCH10_H_2, mode=Mode.SUBTRACT)
        with Locations((3106.238757164, 1154.505694712)):
            Rectangle(SKETCH10_W, SKETCH10_H)
        with Locations((3106.238757164, 1154.505694712)):
            Rectangle(SKETCH10_W_2, SKETCH10_H_2, mode=Mode.SUBTRACT)
        with Locations((3082.138757164, 1164.605694712)):
            Rectangle(SKETCH10_W, SKETCH10_H)
        with Locations((3082.138757164, 1164.605694712)):
            Rectangle(SKETCH10_W_2, SKETCH10_H_2, mode=Mode.SUBTRACT)
    extrude(amount=-CUT_EXTRUDE3_DEPTH, mode=Mode.SUBTRACT)

    # Sketch11 → Hole1 (revolve, cut)
    with BuildSketch(Plane(origin=(-3144.636757164, 1132.087694712, 0), x_dir=(0, 1, 0), z_dir=(1, 0, 0))):
        Polygon((0, 0), (0, 2.921), (1.4986, 2.921), (1.6383, 0), align=None)
    hole1 = revolve(axis=Axis((-3144.636757164, 1132.087694712, 110), (0, 0, -1)), mode=Mode.SUBTRACT)

    # Hole1 at 2: Hole1 ×2
    with Locations(*[(i * HOLE1_AT_2_PITCH, 0, 0) for i in range(1, HOLE1_AT_2_COUNT)]):
        add(hole1, mode=Mode.SUBTRACT)

    # Hole1 at 3: Hole1 ×2
    with Locations(*[(0, i * HOLE1_AT_3_PITCH, 0) for i in range(1, HOLE1_AT_3_COUNT)]):
        add(hole1, mode=Mode.SUBTRACT)

    # Hole1 at 4: Hole1 ×2
    with Locations(*[Vector(0.911111869, 0.412159146, 0) * (i * HOLE1_AT_4_PITCH) for i in range(1, HOLE1_AT_4_COUNT)]):
        add(hole1, mode=Mode.SUBTRACT)


solid = part.part
